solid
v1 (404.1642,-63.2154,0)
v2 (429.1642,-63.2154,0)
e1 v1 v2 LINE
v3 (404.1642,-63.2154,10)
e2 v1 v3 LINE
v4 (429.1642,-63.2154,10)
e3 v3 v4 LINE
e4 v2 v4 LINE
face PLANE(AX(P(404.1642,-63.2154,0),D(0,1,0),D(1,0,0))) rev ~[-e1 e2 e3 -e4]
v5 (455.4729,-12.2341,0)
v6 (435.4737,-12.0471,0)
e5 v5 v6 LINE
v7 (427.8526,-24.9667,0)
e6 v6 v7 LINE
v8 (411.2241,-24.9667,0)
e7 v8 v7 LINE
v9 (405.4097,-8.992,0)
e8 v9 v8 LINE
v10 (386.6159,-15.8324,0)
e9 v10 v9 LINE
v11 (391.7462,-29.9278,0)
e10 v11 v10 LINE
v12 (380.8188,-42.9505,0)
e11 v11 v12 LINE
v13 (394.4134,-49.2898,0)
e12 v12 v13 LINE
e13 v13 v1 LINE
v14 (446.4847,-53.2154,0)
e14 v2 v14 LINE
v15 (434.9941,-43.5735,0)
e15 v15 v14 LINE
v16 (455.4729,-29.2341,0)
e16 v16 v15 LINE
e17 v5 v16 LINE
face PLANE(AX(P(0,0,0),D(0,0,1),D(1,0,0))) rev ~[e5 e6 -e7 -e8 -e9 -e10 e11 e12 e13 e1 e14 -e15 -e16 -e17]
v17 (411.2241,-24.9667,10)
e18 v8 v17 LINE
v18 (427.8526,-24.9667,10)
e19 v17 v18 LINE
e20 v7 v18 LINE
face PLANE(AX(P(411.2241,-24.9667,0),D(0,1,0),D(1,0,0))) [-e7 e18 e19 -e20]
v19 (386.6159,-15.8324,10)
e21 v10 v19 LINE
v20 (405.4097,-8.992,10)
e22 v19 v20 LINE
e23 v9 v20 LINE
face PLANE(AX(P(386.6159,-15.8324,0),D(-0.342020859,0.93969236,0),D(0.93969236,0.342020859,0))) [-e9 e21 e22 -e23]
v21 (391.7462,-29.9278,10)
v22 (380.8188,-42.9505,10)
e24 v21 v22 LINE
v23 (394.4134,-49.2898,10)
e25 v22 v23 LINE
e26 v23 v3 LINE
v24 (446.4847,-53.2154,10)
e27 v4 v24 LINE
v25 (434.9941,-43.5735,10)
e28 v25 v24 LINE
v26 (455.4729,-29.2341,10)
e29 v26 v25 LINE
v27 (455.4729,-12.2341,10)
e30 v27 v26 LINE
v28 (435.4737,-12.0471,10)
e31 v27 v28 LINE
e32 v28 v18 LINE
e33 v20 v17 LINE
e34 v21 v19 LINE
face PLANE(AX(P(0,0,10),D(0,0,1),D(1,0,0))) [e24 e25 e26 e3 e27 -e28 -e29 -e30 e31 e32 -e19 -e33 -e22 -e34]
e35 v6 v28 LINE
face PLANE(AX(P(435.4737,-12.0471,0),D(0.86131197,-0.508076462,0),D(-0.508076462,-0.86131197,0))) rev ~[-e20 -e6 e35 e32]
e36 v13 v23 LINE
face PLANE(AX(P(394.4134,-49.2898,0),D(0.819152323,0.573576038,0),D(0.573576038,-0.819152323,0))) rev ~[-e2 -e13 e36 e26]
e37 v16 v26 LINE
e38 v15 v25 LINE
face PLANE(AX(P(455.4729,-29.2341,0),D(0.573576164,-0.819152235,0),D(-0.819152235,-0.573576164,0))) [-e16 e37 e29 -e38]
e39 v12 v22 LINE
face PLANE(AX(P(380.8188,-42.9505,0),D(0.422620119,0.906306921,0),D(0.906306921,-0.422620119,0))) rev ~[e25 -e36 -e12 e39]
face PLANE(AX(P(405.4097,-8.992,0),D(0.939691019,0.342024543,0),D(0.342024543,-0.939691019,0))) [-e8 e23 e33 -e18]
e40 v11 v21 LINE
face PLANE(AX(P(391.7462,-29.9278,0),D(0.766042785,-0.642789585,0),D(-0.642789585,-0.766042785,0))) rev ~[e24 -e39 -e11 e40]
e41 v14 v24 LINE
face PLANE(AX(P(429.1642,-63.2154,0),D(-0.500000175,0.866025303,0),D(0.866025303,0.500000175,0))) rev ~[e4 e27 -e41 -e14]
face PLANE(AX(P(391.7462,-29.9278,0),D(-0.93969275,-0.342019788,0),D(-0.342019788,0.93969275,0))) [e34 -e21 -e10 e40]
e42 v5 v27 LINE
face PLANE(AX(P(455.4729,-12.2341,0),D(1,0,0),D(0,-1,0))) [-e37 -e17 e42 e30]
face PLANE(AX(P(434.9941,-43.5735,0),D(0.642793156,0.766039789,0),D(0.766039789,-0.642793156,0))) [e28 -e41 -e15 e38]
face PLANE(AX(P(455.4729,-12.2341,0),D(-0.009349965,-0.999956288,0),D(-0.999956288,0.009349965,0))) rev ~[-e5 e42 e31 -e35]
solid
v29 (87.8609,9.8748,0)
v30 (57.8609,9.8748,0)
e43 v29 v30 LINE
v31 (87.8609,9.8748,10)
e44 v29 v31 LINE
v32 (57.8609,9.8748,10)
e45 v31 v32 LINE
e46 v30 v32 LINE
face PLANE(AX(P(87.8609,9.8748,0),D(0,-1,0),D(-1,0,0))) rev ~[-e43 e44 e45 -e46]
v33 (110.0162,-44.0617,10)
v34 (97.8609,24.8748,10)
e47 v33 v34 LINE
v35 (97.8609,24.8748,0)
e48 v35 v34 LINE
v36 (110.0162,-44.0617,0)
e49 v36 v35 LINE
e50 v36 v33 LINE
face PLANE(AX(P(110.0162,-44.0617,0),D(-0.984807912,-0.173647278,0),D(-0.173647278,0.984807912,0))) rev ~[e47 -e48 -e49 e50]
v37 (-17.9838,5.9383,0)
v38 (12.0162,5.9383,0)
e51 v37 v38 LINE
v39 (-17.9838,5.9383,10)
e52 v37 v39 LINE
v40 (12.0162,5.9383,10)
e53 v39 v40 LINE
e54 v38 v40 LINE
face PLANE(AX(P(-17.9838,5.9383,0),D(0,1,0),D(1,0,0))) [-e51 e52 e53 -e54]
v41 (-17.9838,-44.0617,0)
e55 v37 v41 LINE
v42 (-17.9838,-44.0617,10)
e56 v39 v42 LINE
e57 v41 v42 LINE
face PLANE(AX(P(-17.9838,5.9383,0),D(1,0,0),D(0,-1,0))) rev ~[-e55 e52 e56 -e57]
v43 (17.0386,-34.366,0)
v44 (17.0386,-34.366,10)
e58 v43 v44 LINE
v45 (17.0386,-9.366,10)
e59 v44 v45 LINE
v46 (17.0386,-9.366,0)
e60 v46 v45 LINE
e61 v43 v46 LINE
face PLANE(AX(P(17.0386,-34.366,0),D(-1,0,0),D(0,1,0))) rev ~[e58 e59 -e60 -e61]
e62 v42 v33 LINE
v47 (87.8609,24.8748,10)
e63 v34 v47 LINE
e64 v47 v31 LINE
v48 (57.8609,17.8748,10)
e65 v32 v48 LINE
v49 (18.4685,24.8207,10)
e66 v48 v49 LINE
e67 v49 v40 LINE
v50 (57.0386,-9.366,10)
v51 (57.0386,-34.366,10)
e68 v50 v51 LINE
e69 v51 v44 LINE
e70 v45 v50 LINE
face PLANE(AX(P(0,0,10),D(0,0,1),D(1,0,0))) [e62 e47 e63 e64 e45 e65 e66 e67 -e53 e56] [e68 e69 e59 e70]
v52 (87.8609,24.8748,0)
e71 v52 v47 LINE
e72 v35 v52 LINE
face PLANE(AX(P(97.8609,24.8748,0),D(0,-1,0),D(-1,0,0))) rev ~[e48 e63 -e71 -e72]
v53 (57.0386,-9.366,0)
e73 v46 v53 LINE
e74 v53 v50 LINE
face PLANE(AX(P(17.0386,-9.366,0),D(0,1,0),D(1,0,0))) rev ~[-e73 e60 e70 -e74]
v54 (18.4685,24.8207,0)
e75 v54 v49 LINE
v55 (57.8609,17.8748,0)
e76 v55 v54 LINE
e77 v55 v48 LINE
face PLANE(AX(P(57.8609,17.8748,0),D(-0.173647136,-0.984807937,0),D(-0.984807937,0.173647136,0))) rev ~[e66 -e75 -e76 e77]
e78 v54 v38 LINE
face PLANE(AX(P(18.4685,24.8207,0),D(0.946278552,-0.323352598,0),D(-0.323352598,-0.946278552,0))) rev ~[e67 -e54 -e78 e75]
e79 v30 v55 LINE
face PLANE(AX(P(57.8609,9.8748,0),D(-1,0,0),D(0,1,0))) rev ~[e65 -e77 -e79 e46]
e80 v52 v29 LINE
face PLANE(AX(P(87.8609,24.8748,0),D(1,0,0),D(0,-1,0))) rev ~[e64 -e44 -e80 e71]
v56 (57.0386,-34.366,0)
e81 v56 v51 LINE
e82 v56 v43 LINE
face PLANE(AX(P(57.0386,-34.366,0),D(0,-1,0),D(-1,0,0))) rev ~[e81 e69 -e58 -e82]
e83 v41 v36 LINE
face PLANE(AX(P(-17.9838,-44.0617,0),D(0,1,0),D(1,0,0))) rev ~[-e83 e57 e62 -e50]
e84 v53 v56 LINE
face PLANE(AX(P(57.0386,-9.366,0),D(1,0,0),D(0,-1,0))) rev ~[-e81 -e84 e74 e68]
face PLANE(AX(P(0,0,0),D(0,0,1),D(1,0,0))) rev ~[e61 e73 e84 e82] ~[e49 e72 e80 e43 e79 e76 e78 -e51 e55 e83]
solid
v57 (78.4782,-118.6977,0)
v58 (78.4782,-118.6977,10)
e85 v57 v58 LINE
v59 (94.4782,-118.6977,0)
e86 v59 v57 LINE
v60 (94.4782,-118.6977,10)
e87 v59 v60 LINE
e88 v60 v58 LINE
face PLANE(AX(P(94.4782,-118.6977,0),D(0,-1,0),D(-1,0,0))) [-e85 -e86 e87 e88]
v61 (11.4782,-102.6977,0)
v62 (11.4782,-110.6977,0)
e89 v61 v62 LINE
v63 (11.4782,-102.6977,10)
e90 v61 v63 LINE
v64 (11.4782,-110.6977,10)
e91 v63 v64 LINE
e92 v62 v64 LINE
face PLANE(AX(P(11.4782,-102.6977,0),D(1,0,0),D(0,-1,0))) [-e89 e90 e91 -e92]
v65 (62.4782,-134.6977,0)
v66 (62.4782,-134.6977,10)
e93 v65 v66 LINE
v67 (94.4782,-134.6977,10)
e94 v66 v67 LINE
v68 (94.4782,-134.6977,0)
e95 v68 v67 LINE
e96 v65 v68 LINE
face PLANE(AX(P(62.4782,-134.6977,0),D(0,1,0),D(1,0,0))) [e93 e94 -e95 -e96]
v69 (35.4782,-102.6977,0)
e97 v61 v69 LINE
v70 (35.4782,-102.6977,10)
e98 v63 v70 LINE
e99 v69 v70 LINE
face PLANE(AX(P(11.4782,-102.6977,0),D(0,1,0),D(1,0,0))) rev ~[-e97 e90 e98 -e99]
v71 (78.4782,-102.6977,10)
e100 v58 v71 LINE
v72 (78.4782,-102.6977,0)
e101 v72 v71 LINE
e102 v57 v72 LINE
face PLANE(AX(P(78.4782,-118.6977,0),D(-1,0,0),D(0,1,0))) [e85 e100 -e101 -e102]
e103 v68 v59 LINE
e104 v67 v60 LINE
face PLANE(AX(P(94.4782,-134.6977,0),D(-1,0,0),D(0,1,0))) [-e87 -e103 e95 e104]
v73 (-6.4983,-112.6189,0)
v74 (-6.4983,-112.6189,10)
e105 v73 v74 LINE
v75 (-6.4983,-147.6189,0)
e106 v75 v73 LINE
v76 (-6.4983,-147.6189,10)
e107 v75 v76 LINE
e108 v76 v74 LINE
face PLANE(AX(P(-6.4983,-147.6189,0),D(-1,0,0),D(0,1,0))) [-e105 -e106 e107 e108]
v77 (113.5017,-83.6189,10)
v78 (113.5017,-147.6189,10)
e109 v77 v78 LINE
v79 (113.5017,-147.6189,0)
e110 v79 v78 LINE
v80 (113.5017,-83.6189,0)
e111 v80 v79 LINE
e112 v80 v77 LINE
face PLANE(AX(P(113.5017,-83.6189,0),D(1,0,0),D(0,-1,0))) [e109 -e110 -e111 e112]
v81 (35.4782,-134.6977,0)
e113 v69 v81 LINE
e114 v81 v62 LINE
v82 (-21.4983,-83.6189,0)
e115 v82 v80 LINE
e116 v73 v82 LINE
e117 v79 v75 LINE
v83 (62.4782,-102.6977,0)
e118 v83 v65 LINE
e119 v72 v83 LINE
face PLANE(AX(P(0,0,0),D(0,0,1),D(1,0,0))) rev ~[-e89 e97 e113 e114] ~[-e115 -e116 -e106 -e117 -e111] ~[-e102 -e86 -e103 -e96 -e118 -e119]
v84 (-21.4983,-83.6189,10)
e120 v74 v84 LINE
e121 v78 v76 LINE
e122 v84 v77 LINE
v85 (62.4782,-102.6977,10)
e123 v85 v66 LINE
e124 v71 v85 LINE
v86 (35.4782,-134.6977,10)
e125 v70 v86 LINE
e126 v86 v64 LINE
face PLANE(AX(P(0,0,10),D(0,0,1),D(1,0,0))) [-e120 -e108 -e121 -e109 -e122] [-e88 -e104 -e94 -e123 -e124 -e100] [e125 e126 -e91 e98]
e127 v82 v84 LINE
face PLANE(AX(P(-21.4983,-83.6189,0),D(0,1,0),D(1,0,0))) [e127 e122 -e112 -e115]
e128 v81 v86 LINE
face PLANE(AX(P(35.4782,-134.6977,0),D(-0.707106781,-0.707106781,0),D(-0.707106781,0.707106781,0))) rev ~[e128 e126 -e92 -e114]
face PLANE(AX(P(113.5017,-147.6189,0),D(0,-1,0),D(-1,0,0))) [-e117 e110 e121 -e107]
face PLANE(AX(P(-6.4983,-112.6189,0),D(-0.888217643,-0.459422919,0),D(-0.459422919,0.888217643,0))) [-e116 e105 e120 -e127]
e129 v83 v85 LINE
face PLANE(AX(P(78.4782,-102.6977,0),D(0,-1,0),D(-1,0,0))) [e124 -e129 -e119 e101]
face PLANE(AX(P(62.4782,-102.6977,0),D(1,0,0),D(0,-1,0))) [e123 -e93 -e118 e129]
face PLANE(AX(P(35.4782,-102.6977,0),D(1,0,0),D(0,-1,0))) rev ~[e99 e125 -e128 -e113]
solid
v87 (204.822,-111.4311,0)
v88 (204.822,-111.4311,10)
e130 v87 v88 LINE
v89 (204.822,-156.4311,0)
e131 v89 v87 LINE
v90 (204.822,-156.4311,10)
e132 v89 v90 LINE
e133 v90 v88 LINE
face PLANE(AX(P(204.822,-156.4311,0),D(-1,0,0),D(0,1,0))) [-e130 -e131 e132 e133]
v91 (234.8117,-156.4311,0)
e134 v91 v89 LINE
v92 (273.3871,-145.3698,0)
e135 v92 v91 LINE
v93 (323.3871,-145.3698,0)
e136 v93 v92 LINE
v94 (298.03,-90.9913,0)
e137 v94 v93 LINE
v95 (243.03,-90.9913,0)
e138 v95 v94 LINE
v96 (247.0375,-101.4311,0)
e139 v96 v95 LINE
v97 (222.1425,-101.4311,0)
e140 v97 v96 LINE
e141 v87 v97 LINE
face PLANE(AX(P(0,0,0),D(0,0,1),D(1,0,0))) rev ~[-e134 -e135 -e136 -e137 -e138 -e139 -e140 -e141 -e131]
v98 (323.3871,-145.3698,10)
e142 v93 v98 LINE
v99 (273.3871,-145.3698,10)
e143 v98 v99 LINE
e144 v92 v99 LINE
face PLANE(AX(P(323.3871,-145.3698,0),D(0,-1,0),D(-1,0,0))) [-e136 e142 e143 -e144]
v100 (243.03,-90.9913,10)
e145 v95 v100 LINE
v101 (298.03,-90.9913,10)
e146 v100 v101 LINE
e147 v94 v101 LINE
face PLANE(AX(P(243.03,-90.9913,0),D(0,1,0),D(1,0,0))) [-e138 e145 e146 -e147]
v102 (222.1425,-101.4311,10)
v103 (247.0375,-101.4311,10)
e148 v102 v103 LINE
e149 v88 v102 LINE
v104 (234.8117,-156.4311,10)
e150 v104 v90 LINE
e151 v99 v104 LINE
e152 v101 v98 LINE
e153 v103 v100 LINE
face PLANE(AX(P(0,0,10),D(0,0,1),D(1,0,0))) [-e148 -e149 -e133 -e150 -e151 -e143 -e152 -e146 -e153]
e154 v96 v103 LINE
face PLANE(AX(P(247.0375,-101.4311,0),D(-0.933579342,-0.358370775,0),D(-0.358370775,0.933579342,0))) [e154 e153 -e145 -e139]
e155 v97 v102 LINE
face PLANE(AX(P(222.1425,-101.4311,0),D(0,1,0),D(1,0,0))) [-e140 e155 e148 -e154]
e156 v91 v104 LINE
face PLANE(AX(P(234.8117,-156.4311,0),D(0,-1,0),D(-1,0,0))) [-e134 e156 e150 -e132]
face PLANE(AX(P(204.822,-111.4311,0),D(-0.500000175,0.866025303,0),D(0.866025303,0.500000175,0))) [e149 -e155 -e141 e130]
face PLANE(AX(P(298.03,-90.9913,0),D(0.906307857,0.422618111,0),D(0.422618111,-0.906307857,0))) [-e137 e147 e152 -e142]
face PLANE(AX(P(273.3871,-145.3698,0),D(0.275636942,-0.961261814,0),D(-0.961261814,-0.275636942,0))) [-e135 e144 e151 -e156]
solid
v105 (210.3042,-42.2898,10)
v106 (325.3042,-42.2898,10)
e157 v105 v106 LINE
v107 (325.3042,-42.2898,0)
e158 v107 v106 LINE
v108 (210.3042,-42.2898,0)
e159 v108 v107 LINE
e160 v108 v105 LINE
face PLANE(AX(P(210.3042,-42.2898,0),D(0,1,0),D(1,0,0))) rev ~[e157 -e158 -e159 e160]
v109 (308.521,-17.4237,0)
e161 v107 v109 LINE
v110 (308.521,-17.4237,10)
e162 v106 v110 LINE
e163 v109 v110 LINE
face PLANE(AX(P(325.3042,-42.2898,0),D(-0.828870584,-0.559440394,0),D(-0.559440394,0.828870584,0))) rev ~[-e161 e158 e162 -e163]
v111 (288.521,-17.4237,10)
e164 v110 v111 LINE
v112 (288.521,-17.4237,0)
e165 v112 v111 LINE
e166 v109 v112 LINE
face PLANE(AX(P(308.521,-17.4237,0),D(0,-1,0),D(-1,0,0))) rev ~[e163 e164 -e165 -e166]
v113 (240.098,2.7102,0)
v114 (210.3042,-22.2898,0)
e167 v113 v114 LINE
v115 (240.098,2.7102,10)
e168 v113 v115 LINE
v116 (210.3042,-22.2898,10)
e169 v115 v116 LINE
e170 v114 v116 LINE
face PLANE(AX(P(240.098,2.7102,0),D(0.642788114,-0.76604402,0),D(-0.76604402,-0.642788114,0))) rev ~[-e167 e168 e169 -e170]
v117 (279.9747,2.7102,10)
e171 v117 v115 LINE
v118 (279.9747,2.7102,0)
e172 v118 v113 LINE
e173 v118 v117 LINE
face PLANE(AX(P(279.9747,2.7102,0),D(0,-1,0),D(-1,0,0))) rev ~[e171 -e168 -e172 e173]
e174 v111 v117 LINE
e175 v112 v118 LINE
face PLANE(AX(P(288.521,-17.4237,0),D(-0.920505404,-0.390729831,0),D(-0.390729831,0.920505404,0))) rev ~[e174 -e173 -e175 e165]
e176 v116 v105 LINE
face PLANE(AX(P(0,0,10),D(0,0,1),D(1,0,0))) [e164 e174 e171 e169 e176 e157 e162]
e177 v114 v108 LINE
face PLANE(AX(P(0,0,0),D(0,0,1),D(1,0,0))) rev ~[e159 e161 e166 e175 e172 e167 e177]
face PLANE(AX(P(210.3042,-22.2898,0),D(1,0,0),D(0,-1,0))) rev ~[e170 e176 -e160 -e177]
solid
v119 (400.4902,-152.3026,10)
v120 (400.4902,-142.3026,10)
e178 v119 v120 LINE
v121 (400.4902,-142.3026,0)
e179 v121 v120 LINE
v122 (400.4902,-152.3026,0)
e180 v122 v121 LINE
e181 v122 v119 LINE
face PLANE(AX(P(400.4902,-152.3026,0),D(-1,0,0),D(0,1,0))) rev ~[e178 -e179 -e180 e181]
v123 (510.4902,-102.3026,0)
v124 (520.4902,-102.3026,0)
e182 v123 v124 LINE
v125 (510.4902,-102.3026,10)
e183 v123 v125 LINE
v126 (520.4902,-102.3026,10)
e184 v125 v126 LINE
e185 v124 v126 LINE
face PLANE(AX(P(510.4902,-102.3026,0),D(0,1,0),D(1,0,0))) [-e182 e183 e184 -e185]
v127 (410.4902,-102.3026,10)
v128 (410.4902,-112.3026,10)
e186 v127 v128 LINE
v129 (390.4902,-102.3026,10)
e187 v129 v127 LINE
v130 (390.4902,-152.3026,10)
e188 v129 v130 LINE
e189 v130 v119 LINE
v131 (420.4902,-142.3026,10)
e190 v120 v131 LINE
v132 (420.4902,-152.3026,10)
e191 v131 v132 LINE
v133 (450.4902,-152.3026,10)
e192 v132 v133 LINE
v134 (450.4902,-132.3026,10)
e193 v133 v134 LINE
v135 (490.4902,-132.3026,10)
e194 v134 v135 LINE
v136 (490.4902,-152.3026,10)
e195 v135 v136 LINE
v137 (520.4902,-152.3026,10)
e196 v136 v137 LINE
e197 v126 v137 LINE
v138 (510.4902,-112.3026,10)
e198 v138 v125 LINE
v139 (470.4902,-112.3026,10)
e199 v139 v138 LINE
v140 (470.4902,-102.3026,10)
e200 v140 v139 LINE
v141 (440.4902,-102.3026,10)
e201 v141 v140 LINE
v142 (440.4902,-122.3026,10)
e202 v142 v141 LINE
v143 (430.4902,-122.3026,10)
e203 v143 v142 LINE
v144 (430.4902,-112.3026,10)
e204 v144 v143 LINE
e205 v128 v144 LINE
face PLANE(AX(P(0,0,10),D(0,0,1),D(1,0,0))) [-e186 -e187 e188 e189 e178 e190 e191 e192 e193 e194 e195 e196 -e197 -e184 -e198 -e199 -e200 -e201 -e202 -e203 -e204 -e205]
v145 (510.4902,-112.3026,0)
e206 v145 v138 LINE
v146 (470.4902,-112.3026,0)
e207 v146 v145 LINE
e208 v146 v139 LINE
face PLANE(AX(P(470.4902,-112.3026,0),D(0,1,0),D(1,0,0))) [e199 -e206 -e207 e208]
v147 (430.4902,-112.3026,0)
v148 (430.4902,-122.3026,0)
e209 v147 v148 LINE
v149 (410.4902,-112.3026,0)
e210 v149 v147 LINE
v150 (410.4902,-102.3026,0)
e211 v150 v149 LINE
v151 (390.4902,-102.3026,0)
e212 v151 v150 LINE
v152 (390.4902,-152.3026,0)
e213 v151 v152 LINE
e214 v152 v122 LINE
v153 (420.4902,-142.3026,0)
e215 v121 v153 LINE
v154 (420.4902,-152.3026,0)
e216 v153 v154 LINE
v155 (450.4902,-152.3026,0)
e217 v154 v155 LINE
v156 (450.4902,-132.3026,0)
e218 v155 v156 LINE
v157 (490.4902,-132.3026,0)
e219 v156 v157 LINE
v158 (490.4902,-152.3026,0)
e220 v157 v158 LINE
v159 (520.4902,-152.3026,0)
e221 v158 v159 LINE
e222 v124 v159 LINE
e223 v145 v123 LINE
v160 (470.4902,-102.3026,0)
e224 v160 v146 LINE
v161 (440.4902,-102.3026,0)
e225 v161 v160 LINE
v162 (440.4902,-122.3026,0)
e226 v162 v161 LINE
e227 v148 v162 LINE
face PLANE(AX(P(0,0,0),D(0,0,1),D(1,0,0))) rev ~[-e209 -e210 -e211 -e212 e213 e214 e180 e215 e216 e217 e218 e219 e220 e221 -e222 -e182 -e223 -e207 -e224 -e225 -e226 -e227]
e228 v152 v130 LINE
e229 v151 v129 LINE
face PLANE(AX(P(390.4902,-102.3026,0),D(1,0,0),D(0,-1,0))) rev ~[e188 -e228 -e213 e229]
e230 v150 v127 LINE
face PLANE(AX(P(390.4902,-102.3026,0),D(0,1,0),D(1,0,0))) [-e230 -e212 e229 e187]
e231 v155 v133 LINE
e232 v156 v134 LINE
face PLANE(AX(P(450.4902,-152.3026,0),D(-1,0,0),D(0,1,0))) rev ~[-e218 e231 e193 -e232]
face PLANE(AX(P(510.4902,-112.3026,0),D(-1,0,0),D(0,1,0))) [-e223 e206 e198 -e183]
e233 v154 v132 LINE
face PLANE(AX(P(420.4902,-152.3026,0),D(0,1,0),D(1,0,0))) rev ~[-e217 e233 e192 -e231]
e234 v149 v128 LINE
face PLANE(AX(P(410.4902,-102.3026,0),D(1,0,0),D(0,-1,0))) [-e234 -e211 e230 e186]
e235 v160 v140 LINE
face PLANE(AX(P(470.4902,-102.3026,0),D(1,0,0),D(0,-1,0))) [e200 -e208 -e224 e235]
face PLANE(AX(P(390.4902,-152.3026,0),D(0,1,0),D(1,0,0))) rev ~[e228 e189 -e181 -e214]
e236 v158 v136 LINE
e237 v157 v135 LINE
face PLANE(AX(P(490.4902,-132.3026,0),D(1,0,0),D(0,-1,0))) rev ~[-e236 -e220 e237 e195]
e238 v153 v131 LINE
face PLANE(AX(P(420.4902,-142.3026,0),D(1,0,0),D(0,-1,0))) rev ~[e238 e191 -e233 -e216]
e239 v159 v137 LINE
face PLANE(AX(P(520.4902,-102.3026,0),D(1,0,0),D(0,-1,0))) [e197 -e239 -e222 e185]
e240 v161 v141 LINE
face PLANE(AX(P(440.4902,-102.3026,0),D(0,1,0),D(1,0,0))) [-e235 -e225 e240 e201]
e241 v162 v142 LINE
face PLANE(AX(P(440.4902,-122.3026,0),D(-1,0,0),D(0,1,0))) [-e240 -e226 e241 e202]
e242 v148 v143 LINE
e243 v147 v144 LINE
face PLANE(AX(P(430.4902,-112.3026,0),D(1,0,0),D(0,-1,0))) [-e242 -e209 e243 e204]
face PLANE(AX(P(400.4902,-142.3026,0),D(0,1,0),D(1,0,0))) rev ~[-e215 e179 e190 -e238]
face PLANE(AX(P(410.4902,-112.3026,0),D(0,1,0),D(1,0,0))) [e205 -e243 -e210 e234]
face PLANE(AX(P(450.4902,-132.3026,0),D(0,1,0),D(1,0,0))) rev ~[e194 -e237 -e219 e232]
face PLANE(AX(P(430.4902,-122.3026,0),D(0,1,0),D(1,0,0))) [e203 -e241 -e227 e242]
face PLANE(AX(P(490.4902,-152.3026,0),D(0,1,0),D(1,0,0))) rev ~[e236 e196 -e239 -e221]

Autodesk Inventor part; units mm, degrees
ref_plane "YZ Plane" through (0, 0, 0) normal (1, 0, 0) x (0, 1, 0)
ref_plane "XZ Plane" through (0, 0, 0) normal (0, 1, 0) x (-1, 0, 0)
ref_plane "XY Plane" through (0, 0, 0) normal (0, 0, 1) x (1, 0, 0)
sketch "스케치1" plane through (0, 0, 0) normal (0, 0, 1) x (1, 0, 0)
  line L0 (-17.9838, 5.9383) -> (12.0162, 5.9383)
  line L1 (-17.9838, 5.9383) -> (-17.9838, -44.0617)
  line L2 (-17.9838, -44.0617) -> (110.0162, -44.0617)
  line L3 (110.0162, -44.0617) -> (97.8609, 24.8748)
  line L4 (97.8609, 24.8748) -> (87.8609, 24.8748)
  line L5 (87.8609, 24.8748) -> (87.8609, 9.8748)
  line L6 (87.8609, 9.8748) -> (57.8609, 9.8748)
  line L7 (57.8609, 9.8748) -> (57.8609, 17.8748)
  line L8 (57.8609, 17.8748) -> (18.4685, 24.8207)
  line L9 (18.4685, 24.8207) -> (12.0162, 5.9383)
  line L10 (17.0386, -9.366) -> (57.0386, -9.366)
  line L11 (57.0386, -9.366) -> (57.0386, -34.366)
  line L12 (57.0386, -34.366) -> (17.0386, -34.366)
  line L13 (17.0386, -34.366) -> (17.0386, -9.366)
  line L14 (-21.4983, -83.6189) -> (113.5017, -83.6189)
  line L15 (113.5017, -83.6189) -> (113.5017, -147.6189)
  line L16 (113.5017, -147.6189) -> (-6.4983, -147.6189)
  line L17 (-6.4983, -147.6189) -> (-6.4983, -112.6189)
  line L18 (-6.4983, -112.6189) -> (-21.4983, -83.6189)
  line L19 (11.4782, -102.6977) -> (11.4782, -110.6977)
  line L20 (11.4782, -102.6977) -> (35.4782, -102.6977)
  line L21 (35.4782, -102.6977) -> (35.4782, -134.6977)
  line L22 (35.4782, -134.6977) -> (11.4782, -110.6977)
  line L23 (62.4782, -102.6977) -> (62.4782, -134.6977)
  line L24 (62.4782, -134.6977) -> (94.4782, -134.6977)
  line L25 (94.4782, -134.6977) -> (94.4782, -118.6977)
  line L26 (94.4782, -118.6977) -> (78.4782, -118.6977)
  line L27 (78.4782, -118.6977) -> (78.4782, -102.6977)
  line L28 (78.4782, -102.6977) -> (62.4782, -102.6977)
  line L29 (210.3042, -22.2898) -> (210.3042, -42.2898)
  line L30 (210.3042, -42.2898) -> (325.3042, -42.2898)
  line L31 (325.3042, -42.2898) -> (308.521, -17.4237)
  line L32 (308.521, -17.4237) -> (288.521, -17.4237)
  line L33 (288.521, -17.4237) -> (279.9747, 2.7102)
  line L34 (279.9747, 2.7102) -> (240.098, 2.7102)
  line L35 (240.098, 2.7102) -> (210.3042, -22.2898)
  line L36 (243.03, -90.9913) -> (298.03, -90.9913)
  line L37 (298.03, -90.9913) -> (323.3871, -145.3698)
  line L38 (323.3871, -145.3698) -> (273.3871, -145.3698)
  line L39 (273.3871, -145.3698) -> (234.8117, -156.4311)
  line L40 (234.8117, -156.4311) -> (204.822, -156.4311)
  line L41 (204.822, -156.4311) -> (204.822, -111.4311)
  line L42 (204.822, -111.4311) -> (222.1425, -101.4311)
  line L43 (222.1425, -101.4311) -> (247.0375, -101.4311)
  line L44 (247.0375, -101.4311) -> (243.03, -90.9913)
  line L45 (391.7462, -29.9278) -> (380.8188, -42.9505)
  line L46 (380.8188, -42.9505) -> (394.4134, -49.2898)
  line L47 (394.4134, -49.2898) -> (404.1642, -63.2154)
  line L48 (404.1642, -63.2154) -> (429.1642, -63.2154)
  line L49 (429.1642, -63.2154) -> (446.4847, -53.2154)
  line L50 (391.7462, -29.9278) -> (386.6159, -15.8324)
  line L51 (391.7462, -29.9278) -> (406.7462, -29.9278) construction
  line L52 (386.6159, -15.8324) -> (405.4097, -8.992)
  line L53 (405.4097, -8.992) -> (411.2241, -24.9667)
  line L54 (455.4729, -12.2341) -> (435.4737, -12.0471)
  line L55 (435.4737, -12.0471) -> (427.8526, -24.9667)
  line L56 (411.2241, -24.9667) -> (427.8526, -24.9667)
  line L57 (455.4729, -12.2341) -> (455.4729, -29.2341)
  line L58 (455.4729, -29.2341) -> (434.9941, -43.5735)
  line L59 (434.9941, -43.5735) -> (446.4847, -53.2154)
  line L60 (390.4902, -102.3026) -> (410.4902, -102.3026)
  line L61 (410.4902, -102.3026) -> (410.4902, -112.3026)
  line L62 (410.4902, -112.3026) -> (430.4902, -112.3026)
  line L63 (430.4902, -112.3026) -> (430.4902, -122.3026)
  line L64 (430.4902, -122.3026) -> (440.4902, -122.3026)
  line L65 (440.4902, -122.3026) -> (440.4902, -102.3026)
  line L66 (440.4902, -102.3026) -> (470.4902, -102.3026)
  line L67 (470.4902, -102.3026) -> (470.4902, -112.3026)
  line L68 (470.4902, -112.3026) -> (510.4902, -112.3026)
  line L69 (510.4902, -112.3026) -> (510.4902, -102.3026)
  line L70 (510.4902, -102.3026) -> (520.4902, -102.3026)
  line L71 (520.4902, -102.3026) -> (520.4902, -152.3026)
  line L72 (390.4902, -102.3026) -> (390.4902, -152.3026)
  line L73 (390.4902, -152.3026) -> (400.4902, -152.3026)
  line L74 (400.4902, -152.3026) -> (400.4902, -142.3026)
  line L75 (400.4902, -142.3026) -> (420.4902, -142.3026)
  line L76 (420.4902, -142.3026) -> (420.4902, -152.3026)
  line L77 (420.4902, -152.3026) -> (450.4902, -152.3026)
  line L78 (450.4902, -152.3026) -> (450.4902, -132.3026)
  line L79 (450.4902, -132.3026) -> (490.4902, -132.3026)
  line L80 (490.4902, -132.3026) -> (490.4902, -152.3026)
  line L81 (490.4902, -152.3026) -> (520.4902, -152.3026)
  point P0 (0, 0)
  dimension "d0" = 30
  dimension "d1" = 50
  dimension "d2" = 128
  dimension "d3" = 70
  dimension "d4" = 80
  dimension "d5" = 10
  dimension "d6" = 15
  dimension "d7" = 30
  dimension "d8" = 8
  dimension "d9" = 40
  dimension "d10" = 100
  dimension "d11" = 40
  dimension "d12" = 25
  dimension "d13" = 135
  dimension "d14" = 64
  dimension "d15" = 120
  dimension "d16" = 35
  dimension "d17" = 8
  dimension "d18" = 24
  dimension "d19" = 32
  dimension "d20" = 32
  dimension "d21" = 16
  dimension "d22" = 16
  dimension "d23" = 27
  dimension "d28" = 20
  dimension "d29" = 115
  dimension "d30" = 30
  dimension "d31" = 20
  dimension "d32" = 67
  dimension "d33" = 50
  dimension "d34" = 45
  dimension "d35" = 55
  dimension "d36" = 60
  dimension "d37" = 50
  dimension "d38" = 65
  dimension "d39" = 40.13
  dimension "d40" = 16
  dimension "d41" = 45
  dimension "d42" = 20
  dimension "d43" = 120
  dimension "d44" = 69
  dimension "d56" = 17
  dimension "d58" = 15
  dimension "d59" = 75
  dimension "d60" = 17
  dimension "d61" = 150
  dimension "d62" = 25
  dimension "d63" = 20
  dimension "d64" = 150
  dimension "d77" = 125
  dimension "d78" = 15
  dimension "d80" = 20
  dimension "d81" = 17
  dimension "d82" = 20
  dimension "d83" = 15
  dimension "d84" = 120
  dimension "d85" = 120
  dimension "d87" = 90
  dimension "d88" = 90
  dimension "d97" = 17
  dimension "d98" = 25
  dimension "d99" = 55
  dimension "d100" = 75
  dimension "d103" = 20
extrude "돌출1" add sketch "스케치1" along normal blind 10 contours L0 L9 L8 L7 L6 L5 L4 L3 L2 L1
extrude "돌출2" add sketch "스케치1" along normal blind 10 contours L14 L15 L16 L17 L18
extrude "돌출3" add sketch "스케치1" along normal blind 10 contours L35 L34 L33 L32 L31 L30 L29
extrude "돌출4" add sketch "스케치1" along normal blind 10 contours L36 L37 L38 L39 L40 L41 L42 L43 L44
extrude "돌출5" add sketch "스케치1" along normal blind 10 contours L50 L52 L53 L56 L55 L54 L57 L58 L59 L49 L48 L47 L46 L45
extrude "돌출6" add sketch "스케치1" along normal blind 10 contours L60 L61 L62 L63 L64 L65 L66 L67 L68 L69 L70 L71 L81 L80 L79 L78 L77 L76 L75 L74 L73 L72
properties part number "240329_직선연습"
